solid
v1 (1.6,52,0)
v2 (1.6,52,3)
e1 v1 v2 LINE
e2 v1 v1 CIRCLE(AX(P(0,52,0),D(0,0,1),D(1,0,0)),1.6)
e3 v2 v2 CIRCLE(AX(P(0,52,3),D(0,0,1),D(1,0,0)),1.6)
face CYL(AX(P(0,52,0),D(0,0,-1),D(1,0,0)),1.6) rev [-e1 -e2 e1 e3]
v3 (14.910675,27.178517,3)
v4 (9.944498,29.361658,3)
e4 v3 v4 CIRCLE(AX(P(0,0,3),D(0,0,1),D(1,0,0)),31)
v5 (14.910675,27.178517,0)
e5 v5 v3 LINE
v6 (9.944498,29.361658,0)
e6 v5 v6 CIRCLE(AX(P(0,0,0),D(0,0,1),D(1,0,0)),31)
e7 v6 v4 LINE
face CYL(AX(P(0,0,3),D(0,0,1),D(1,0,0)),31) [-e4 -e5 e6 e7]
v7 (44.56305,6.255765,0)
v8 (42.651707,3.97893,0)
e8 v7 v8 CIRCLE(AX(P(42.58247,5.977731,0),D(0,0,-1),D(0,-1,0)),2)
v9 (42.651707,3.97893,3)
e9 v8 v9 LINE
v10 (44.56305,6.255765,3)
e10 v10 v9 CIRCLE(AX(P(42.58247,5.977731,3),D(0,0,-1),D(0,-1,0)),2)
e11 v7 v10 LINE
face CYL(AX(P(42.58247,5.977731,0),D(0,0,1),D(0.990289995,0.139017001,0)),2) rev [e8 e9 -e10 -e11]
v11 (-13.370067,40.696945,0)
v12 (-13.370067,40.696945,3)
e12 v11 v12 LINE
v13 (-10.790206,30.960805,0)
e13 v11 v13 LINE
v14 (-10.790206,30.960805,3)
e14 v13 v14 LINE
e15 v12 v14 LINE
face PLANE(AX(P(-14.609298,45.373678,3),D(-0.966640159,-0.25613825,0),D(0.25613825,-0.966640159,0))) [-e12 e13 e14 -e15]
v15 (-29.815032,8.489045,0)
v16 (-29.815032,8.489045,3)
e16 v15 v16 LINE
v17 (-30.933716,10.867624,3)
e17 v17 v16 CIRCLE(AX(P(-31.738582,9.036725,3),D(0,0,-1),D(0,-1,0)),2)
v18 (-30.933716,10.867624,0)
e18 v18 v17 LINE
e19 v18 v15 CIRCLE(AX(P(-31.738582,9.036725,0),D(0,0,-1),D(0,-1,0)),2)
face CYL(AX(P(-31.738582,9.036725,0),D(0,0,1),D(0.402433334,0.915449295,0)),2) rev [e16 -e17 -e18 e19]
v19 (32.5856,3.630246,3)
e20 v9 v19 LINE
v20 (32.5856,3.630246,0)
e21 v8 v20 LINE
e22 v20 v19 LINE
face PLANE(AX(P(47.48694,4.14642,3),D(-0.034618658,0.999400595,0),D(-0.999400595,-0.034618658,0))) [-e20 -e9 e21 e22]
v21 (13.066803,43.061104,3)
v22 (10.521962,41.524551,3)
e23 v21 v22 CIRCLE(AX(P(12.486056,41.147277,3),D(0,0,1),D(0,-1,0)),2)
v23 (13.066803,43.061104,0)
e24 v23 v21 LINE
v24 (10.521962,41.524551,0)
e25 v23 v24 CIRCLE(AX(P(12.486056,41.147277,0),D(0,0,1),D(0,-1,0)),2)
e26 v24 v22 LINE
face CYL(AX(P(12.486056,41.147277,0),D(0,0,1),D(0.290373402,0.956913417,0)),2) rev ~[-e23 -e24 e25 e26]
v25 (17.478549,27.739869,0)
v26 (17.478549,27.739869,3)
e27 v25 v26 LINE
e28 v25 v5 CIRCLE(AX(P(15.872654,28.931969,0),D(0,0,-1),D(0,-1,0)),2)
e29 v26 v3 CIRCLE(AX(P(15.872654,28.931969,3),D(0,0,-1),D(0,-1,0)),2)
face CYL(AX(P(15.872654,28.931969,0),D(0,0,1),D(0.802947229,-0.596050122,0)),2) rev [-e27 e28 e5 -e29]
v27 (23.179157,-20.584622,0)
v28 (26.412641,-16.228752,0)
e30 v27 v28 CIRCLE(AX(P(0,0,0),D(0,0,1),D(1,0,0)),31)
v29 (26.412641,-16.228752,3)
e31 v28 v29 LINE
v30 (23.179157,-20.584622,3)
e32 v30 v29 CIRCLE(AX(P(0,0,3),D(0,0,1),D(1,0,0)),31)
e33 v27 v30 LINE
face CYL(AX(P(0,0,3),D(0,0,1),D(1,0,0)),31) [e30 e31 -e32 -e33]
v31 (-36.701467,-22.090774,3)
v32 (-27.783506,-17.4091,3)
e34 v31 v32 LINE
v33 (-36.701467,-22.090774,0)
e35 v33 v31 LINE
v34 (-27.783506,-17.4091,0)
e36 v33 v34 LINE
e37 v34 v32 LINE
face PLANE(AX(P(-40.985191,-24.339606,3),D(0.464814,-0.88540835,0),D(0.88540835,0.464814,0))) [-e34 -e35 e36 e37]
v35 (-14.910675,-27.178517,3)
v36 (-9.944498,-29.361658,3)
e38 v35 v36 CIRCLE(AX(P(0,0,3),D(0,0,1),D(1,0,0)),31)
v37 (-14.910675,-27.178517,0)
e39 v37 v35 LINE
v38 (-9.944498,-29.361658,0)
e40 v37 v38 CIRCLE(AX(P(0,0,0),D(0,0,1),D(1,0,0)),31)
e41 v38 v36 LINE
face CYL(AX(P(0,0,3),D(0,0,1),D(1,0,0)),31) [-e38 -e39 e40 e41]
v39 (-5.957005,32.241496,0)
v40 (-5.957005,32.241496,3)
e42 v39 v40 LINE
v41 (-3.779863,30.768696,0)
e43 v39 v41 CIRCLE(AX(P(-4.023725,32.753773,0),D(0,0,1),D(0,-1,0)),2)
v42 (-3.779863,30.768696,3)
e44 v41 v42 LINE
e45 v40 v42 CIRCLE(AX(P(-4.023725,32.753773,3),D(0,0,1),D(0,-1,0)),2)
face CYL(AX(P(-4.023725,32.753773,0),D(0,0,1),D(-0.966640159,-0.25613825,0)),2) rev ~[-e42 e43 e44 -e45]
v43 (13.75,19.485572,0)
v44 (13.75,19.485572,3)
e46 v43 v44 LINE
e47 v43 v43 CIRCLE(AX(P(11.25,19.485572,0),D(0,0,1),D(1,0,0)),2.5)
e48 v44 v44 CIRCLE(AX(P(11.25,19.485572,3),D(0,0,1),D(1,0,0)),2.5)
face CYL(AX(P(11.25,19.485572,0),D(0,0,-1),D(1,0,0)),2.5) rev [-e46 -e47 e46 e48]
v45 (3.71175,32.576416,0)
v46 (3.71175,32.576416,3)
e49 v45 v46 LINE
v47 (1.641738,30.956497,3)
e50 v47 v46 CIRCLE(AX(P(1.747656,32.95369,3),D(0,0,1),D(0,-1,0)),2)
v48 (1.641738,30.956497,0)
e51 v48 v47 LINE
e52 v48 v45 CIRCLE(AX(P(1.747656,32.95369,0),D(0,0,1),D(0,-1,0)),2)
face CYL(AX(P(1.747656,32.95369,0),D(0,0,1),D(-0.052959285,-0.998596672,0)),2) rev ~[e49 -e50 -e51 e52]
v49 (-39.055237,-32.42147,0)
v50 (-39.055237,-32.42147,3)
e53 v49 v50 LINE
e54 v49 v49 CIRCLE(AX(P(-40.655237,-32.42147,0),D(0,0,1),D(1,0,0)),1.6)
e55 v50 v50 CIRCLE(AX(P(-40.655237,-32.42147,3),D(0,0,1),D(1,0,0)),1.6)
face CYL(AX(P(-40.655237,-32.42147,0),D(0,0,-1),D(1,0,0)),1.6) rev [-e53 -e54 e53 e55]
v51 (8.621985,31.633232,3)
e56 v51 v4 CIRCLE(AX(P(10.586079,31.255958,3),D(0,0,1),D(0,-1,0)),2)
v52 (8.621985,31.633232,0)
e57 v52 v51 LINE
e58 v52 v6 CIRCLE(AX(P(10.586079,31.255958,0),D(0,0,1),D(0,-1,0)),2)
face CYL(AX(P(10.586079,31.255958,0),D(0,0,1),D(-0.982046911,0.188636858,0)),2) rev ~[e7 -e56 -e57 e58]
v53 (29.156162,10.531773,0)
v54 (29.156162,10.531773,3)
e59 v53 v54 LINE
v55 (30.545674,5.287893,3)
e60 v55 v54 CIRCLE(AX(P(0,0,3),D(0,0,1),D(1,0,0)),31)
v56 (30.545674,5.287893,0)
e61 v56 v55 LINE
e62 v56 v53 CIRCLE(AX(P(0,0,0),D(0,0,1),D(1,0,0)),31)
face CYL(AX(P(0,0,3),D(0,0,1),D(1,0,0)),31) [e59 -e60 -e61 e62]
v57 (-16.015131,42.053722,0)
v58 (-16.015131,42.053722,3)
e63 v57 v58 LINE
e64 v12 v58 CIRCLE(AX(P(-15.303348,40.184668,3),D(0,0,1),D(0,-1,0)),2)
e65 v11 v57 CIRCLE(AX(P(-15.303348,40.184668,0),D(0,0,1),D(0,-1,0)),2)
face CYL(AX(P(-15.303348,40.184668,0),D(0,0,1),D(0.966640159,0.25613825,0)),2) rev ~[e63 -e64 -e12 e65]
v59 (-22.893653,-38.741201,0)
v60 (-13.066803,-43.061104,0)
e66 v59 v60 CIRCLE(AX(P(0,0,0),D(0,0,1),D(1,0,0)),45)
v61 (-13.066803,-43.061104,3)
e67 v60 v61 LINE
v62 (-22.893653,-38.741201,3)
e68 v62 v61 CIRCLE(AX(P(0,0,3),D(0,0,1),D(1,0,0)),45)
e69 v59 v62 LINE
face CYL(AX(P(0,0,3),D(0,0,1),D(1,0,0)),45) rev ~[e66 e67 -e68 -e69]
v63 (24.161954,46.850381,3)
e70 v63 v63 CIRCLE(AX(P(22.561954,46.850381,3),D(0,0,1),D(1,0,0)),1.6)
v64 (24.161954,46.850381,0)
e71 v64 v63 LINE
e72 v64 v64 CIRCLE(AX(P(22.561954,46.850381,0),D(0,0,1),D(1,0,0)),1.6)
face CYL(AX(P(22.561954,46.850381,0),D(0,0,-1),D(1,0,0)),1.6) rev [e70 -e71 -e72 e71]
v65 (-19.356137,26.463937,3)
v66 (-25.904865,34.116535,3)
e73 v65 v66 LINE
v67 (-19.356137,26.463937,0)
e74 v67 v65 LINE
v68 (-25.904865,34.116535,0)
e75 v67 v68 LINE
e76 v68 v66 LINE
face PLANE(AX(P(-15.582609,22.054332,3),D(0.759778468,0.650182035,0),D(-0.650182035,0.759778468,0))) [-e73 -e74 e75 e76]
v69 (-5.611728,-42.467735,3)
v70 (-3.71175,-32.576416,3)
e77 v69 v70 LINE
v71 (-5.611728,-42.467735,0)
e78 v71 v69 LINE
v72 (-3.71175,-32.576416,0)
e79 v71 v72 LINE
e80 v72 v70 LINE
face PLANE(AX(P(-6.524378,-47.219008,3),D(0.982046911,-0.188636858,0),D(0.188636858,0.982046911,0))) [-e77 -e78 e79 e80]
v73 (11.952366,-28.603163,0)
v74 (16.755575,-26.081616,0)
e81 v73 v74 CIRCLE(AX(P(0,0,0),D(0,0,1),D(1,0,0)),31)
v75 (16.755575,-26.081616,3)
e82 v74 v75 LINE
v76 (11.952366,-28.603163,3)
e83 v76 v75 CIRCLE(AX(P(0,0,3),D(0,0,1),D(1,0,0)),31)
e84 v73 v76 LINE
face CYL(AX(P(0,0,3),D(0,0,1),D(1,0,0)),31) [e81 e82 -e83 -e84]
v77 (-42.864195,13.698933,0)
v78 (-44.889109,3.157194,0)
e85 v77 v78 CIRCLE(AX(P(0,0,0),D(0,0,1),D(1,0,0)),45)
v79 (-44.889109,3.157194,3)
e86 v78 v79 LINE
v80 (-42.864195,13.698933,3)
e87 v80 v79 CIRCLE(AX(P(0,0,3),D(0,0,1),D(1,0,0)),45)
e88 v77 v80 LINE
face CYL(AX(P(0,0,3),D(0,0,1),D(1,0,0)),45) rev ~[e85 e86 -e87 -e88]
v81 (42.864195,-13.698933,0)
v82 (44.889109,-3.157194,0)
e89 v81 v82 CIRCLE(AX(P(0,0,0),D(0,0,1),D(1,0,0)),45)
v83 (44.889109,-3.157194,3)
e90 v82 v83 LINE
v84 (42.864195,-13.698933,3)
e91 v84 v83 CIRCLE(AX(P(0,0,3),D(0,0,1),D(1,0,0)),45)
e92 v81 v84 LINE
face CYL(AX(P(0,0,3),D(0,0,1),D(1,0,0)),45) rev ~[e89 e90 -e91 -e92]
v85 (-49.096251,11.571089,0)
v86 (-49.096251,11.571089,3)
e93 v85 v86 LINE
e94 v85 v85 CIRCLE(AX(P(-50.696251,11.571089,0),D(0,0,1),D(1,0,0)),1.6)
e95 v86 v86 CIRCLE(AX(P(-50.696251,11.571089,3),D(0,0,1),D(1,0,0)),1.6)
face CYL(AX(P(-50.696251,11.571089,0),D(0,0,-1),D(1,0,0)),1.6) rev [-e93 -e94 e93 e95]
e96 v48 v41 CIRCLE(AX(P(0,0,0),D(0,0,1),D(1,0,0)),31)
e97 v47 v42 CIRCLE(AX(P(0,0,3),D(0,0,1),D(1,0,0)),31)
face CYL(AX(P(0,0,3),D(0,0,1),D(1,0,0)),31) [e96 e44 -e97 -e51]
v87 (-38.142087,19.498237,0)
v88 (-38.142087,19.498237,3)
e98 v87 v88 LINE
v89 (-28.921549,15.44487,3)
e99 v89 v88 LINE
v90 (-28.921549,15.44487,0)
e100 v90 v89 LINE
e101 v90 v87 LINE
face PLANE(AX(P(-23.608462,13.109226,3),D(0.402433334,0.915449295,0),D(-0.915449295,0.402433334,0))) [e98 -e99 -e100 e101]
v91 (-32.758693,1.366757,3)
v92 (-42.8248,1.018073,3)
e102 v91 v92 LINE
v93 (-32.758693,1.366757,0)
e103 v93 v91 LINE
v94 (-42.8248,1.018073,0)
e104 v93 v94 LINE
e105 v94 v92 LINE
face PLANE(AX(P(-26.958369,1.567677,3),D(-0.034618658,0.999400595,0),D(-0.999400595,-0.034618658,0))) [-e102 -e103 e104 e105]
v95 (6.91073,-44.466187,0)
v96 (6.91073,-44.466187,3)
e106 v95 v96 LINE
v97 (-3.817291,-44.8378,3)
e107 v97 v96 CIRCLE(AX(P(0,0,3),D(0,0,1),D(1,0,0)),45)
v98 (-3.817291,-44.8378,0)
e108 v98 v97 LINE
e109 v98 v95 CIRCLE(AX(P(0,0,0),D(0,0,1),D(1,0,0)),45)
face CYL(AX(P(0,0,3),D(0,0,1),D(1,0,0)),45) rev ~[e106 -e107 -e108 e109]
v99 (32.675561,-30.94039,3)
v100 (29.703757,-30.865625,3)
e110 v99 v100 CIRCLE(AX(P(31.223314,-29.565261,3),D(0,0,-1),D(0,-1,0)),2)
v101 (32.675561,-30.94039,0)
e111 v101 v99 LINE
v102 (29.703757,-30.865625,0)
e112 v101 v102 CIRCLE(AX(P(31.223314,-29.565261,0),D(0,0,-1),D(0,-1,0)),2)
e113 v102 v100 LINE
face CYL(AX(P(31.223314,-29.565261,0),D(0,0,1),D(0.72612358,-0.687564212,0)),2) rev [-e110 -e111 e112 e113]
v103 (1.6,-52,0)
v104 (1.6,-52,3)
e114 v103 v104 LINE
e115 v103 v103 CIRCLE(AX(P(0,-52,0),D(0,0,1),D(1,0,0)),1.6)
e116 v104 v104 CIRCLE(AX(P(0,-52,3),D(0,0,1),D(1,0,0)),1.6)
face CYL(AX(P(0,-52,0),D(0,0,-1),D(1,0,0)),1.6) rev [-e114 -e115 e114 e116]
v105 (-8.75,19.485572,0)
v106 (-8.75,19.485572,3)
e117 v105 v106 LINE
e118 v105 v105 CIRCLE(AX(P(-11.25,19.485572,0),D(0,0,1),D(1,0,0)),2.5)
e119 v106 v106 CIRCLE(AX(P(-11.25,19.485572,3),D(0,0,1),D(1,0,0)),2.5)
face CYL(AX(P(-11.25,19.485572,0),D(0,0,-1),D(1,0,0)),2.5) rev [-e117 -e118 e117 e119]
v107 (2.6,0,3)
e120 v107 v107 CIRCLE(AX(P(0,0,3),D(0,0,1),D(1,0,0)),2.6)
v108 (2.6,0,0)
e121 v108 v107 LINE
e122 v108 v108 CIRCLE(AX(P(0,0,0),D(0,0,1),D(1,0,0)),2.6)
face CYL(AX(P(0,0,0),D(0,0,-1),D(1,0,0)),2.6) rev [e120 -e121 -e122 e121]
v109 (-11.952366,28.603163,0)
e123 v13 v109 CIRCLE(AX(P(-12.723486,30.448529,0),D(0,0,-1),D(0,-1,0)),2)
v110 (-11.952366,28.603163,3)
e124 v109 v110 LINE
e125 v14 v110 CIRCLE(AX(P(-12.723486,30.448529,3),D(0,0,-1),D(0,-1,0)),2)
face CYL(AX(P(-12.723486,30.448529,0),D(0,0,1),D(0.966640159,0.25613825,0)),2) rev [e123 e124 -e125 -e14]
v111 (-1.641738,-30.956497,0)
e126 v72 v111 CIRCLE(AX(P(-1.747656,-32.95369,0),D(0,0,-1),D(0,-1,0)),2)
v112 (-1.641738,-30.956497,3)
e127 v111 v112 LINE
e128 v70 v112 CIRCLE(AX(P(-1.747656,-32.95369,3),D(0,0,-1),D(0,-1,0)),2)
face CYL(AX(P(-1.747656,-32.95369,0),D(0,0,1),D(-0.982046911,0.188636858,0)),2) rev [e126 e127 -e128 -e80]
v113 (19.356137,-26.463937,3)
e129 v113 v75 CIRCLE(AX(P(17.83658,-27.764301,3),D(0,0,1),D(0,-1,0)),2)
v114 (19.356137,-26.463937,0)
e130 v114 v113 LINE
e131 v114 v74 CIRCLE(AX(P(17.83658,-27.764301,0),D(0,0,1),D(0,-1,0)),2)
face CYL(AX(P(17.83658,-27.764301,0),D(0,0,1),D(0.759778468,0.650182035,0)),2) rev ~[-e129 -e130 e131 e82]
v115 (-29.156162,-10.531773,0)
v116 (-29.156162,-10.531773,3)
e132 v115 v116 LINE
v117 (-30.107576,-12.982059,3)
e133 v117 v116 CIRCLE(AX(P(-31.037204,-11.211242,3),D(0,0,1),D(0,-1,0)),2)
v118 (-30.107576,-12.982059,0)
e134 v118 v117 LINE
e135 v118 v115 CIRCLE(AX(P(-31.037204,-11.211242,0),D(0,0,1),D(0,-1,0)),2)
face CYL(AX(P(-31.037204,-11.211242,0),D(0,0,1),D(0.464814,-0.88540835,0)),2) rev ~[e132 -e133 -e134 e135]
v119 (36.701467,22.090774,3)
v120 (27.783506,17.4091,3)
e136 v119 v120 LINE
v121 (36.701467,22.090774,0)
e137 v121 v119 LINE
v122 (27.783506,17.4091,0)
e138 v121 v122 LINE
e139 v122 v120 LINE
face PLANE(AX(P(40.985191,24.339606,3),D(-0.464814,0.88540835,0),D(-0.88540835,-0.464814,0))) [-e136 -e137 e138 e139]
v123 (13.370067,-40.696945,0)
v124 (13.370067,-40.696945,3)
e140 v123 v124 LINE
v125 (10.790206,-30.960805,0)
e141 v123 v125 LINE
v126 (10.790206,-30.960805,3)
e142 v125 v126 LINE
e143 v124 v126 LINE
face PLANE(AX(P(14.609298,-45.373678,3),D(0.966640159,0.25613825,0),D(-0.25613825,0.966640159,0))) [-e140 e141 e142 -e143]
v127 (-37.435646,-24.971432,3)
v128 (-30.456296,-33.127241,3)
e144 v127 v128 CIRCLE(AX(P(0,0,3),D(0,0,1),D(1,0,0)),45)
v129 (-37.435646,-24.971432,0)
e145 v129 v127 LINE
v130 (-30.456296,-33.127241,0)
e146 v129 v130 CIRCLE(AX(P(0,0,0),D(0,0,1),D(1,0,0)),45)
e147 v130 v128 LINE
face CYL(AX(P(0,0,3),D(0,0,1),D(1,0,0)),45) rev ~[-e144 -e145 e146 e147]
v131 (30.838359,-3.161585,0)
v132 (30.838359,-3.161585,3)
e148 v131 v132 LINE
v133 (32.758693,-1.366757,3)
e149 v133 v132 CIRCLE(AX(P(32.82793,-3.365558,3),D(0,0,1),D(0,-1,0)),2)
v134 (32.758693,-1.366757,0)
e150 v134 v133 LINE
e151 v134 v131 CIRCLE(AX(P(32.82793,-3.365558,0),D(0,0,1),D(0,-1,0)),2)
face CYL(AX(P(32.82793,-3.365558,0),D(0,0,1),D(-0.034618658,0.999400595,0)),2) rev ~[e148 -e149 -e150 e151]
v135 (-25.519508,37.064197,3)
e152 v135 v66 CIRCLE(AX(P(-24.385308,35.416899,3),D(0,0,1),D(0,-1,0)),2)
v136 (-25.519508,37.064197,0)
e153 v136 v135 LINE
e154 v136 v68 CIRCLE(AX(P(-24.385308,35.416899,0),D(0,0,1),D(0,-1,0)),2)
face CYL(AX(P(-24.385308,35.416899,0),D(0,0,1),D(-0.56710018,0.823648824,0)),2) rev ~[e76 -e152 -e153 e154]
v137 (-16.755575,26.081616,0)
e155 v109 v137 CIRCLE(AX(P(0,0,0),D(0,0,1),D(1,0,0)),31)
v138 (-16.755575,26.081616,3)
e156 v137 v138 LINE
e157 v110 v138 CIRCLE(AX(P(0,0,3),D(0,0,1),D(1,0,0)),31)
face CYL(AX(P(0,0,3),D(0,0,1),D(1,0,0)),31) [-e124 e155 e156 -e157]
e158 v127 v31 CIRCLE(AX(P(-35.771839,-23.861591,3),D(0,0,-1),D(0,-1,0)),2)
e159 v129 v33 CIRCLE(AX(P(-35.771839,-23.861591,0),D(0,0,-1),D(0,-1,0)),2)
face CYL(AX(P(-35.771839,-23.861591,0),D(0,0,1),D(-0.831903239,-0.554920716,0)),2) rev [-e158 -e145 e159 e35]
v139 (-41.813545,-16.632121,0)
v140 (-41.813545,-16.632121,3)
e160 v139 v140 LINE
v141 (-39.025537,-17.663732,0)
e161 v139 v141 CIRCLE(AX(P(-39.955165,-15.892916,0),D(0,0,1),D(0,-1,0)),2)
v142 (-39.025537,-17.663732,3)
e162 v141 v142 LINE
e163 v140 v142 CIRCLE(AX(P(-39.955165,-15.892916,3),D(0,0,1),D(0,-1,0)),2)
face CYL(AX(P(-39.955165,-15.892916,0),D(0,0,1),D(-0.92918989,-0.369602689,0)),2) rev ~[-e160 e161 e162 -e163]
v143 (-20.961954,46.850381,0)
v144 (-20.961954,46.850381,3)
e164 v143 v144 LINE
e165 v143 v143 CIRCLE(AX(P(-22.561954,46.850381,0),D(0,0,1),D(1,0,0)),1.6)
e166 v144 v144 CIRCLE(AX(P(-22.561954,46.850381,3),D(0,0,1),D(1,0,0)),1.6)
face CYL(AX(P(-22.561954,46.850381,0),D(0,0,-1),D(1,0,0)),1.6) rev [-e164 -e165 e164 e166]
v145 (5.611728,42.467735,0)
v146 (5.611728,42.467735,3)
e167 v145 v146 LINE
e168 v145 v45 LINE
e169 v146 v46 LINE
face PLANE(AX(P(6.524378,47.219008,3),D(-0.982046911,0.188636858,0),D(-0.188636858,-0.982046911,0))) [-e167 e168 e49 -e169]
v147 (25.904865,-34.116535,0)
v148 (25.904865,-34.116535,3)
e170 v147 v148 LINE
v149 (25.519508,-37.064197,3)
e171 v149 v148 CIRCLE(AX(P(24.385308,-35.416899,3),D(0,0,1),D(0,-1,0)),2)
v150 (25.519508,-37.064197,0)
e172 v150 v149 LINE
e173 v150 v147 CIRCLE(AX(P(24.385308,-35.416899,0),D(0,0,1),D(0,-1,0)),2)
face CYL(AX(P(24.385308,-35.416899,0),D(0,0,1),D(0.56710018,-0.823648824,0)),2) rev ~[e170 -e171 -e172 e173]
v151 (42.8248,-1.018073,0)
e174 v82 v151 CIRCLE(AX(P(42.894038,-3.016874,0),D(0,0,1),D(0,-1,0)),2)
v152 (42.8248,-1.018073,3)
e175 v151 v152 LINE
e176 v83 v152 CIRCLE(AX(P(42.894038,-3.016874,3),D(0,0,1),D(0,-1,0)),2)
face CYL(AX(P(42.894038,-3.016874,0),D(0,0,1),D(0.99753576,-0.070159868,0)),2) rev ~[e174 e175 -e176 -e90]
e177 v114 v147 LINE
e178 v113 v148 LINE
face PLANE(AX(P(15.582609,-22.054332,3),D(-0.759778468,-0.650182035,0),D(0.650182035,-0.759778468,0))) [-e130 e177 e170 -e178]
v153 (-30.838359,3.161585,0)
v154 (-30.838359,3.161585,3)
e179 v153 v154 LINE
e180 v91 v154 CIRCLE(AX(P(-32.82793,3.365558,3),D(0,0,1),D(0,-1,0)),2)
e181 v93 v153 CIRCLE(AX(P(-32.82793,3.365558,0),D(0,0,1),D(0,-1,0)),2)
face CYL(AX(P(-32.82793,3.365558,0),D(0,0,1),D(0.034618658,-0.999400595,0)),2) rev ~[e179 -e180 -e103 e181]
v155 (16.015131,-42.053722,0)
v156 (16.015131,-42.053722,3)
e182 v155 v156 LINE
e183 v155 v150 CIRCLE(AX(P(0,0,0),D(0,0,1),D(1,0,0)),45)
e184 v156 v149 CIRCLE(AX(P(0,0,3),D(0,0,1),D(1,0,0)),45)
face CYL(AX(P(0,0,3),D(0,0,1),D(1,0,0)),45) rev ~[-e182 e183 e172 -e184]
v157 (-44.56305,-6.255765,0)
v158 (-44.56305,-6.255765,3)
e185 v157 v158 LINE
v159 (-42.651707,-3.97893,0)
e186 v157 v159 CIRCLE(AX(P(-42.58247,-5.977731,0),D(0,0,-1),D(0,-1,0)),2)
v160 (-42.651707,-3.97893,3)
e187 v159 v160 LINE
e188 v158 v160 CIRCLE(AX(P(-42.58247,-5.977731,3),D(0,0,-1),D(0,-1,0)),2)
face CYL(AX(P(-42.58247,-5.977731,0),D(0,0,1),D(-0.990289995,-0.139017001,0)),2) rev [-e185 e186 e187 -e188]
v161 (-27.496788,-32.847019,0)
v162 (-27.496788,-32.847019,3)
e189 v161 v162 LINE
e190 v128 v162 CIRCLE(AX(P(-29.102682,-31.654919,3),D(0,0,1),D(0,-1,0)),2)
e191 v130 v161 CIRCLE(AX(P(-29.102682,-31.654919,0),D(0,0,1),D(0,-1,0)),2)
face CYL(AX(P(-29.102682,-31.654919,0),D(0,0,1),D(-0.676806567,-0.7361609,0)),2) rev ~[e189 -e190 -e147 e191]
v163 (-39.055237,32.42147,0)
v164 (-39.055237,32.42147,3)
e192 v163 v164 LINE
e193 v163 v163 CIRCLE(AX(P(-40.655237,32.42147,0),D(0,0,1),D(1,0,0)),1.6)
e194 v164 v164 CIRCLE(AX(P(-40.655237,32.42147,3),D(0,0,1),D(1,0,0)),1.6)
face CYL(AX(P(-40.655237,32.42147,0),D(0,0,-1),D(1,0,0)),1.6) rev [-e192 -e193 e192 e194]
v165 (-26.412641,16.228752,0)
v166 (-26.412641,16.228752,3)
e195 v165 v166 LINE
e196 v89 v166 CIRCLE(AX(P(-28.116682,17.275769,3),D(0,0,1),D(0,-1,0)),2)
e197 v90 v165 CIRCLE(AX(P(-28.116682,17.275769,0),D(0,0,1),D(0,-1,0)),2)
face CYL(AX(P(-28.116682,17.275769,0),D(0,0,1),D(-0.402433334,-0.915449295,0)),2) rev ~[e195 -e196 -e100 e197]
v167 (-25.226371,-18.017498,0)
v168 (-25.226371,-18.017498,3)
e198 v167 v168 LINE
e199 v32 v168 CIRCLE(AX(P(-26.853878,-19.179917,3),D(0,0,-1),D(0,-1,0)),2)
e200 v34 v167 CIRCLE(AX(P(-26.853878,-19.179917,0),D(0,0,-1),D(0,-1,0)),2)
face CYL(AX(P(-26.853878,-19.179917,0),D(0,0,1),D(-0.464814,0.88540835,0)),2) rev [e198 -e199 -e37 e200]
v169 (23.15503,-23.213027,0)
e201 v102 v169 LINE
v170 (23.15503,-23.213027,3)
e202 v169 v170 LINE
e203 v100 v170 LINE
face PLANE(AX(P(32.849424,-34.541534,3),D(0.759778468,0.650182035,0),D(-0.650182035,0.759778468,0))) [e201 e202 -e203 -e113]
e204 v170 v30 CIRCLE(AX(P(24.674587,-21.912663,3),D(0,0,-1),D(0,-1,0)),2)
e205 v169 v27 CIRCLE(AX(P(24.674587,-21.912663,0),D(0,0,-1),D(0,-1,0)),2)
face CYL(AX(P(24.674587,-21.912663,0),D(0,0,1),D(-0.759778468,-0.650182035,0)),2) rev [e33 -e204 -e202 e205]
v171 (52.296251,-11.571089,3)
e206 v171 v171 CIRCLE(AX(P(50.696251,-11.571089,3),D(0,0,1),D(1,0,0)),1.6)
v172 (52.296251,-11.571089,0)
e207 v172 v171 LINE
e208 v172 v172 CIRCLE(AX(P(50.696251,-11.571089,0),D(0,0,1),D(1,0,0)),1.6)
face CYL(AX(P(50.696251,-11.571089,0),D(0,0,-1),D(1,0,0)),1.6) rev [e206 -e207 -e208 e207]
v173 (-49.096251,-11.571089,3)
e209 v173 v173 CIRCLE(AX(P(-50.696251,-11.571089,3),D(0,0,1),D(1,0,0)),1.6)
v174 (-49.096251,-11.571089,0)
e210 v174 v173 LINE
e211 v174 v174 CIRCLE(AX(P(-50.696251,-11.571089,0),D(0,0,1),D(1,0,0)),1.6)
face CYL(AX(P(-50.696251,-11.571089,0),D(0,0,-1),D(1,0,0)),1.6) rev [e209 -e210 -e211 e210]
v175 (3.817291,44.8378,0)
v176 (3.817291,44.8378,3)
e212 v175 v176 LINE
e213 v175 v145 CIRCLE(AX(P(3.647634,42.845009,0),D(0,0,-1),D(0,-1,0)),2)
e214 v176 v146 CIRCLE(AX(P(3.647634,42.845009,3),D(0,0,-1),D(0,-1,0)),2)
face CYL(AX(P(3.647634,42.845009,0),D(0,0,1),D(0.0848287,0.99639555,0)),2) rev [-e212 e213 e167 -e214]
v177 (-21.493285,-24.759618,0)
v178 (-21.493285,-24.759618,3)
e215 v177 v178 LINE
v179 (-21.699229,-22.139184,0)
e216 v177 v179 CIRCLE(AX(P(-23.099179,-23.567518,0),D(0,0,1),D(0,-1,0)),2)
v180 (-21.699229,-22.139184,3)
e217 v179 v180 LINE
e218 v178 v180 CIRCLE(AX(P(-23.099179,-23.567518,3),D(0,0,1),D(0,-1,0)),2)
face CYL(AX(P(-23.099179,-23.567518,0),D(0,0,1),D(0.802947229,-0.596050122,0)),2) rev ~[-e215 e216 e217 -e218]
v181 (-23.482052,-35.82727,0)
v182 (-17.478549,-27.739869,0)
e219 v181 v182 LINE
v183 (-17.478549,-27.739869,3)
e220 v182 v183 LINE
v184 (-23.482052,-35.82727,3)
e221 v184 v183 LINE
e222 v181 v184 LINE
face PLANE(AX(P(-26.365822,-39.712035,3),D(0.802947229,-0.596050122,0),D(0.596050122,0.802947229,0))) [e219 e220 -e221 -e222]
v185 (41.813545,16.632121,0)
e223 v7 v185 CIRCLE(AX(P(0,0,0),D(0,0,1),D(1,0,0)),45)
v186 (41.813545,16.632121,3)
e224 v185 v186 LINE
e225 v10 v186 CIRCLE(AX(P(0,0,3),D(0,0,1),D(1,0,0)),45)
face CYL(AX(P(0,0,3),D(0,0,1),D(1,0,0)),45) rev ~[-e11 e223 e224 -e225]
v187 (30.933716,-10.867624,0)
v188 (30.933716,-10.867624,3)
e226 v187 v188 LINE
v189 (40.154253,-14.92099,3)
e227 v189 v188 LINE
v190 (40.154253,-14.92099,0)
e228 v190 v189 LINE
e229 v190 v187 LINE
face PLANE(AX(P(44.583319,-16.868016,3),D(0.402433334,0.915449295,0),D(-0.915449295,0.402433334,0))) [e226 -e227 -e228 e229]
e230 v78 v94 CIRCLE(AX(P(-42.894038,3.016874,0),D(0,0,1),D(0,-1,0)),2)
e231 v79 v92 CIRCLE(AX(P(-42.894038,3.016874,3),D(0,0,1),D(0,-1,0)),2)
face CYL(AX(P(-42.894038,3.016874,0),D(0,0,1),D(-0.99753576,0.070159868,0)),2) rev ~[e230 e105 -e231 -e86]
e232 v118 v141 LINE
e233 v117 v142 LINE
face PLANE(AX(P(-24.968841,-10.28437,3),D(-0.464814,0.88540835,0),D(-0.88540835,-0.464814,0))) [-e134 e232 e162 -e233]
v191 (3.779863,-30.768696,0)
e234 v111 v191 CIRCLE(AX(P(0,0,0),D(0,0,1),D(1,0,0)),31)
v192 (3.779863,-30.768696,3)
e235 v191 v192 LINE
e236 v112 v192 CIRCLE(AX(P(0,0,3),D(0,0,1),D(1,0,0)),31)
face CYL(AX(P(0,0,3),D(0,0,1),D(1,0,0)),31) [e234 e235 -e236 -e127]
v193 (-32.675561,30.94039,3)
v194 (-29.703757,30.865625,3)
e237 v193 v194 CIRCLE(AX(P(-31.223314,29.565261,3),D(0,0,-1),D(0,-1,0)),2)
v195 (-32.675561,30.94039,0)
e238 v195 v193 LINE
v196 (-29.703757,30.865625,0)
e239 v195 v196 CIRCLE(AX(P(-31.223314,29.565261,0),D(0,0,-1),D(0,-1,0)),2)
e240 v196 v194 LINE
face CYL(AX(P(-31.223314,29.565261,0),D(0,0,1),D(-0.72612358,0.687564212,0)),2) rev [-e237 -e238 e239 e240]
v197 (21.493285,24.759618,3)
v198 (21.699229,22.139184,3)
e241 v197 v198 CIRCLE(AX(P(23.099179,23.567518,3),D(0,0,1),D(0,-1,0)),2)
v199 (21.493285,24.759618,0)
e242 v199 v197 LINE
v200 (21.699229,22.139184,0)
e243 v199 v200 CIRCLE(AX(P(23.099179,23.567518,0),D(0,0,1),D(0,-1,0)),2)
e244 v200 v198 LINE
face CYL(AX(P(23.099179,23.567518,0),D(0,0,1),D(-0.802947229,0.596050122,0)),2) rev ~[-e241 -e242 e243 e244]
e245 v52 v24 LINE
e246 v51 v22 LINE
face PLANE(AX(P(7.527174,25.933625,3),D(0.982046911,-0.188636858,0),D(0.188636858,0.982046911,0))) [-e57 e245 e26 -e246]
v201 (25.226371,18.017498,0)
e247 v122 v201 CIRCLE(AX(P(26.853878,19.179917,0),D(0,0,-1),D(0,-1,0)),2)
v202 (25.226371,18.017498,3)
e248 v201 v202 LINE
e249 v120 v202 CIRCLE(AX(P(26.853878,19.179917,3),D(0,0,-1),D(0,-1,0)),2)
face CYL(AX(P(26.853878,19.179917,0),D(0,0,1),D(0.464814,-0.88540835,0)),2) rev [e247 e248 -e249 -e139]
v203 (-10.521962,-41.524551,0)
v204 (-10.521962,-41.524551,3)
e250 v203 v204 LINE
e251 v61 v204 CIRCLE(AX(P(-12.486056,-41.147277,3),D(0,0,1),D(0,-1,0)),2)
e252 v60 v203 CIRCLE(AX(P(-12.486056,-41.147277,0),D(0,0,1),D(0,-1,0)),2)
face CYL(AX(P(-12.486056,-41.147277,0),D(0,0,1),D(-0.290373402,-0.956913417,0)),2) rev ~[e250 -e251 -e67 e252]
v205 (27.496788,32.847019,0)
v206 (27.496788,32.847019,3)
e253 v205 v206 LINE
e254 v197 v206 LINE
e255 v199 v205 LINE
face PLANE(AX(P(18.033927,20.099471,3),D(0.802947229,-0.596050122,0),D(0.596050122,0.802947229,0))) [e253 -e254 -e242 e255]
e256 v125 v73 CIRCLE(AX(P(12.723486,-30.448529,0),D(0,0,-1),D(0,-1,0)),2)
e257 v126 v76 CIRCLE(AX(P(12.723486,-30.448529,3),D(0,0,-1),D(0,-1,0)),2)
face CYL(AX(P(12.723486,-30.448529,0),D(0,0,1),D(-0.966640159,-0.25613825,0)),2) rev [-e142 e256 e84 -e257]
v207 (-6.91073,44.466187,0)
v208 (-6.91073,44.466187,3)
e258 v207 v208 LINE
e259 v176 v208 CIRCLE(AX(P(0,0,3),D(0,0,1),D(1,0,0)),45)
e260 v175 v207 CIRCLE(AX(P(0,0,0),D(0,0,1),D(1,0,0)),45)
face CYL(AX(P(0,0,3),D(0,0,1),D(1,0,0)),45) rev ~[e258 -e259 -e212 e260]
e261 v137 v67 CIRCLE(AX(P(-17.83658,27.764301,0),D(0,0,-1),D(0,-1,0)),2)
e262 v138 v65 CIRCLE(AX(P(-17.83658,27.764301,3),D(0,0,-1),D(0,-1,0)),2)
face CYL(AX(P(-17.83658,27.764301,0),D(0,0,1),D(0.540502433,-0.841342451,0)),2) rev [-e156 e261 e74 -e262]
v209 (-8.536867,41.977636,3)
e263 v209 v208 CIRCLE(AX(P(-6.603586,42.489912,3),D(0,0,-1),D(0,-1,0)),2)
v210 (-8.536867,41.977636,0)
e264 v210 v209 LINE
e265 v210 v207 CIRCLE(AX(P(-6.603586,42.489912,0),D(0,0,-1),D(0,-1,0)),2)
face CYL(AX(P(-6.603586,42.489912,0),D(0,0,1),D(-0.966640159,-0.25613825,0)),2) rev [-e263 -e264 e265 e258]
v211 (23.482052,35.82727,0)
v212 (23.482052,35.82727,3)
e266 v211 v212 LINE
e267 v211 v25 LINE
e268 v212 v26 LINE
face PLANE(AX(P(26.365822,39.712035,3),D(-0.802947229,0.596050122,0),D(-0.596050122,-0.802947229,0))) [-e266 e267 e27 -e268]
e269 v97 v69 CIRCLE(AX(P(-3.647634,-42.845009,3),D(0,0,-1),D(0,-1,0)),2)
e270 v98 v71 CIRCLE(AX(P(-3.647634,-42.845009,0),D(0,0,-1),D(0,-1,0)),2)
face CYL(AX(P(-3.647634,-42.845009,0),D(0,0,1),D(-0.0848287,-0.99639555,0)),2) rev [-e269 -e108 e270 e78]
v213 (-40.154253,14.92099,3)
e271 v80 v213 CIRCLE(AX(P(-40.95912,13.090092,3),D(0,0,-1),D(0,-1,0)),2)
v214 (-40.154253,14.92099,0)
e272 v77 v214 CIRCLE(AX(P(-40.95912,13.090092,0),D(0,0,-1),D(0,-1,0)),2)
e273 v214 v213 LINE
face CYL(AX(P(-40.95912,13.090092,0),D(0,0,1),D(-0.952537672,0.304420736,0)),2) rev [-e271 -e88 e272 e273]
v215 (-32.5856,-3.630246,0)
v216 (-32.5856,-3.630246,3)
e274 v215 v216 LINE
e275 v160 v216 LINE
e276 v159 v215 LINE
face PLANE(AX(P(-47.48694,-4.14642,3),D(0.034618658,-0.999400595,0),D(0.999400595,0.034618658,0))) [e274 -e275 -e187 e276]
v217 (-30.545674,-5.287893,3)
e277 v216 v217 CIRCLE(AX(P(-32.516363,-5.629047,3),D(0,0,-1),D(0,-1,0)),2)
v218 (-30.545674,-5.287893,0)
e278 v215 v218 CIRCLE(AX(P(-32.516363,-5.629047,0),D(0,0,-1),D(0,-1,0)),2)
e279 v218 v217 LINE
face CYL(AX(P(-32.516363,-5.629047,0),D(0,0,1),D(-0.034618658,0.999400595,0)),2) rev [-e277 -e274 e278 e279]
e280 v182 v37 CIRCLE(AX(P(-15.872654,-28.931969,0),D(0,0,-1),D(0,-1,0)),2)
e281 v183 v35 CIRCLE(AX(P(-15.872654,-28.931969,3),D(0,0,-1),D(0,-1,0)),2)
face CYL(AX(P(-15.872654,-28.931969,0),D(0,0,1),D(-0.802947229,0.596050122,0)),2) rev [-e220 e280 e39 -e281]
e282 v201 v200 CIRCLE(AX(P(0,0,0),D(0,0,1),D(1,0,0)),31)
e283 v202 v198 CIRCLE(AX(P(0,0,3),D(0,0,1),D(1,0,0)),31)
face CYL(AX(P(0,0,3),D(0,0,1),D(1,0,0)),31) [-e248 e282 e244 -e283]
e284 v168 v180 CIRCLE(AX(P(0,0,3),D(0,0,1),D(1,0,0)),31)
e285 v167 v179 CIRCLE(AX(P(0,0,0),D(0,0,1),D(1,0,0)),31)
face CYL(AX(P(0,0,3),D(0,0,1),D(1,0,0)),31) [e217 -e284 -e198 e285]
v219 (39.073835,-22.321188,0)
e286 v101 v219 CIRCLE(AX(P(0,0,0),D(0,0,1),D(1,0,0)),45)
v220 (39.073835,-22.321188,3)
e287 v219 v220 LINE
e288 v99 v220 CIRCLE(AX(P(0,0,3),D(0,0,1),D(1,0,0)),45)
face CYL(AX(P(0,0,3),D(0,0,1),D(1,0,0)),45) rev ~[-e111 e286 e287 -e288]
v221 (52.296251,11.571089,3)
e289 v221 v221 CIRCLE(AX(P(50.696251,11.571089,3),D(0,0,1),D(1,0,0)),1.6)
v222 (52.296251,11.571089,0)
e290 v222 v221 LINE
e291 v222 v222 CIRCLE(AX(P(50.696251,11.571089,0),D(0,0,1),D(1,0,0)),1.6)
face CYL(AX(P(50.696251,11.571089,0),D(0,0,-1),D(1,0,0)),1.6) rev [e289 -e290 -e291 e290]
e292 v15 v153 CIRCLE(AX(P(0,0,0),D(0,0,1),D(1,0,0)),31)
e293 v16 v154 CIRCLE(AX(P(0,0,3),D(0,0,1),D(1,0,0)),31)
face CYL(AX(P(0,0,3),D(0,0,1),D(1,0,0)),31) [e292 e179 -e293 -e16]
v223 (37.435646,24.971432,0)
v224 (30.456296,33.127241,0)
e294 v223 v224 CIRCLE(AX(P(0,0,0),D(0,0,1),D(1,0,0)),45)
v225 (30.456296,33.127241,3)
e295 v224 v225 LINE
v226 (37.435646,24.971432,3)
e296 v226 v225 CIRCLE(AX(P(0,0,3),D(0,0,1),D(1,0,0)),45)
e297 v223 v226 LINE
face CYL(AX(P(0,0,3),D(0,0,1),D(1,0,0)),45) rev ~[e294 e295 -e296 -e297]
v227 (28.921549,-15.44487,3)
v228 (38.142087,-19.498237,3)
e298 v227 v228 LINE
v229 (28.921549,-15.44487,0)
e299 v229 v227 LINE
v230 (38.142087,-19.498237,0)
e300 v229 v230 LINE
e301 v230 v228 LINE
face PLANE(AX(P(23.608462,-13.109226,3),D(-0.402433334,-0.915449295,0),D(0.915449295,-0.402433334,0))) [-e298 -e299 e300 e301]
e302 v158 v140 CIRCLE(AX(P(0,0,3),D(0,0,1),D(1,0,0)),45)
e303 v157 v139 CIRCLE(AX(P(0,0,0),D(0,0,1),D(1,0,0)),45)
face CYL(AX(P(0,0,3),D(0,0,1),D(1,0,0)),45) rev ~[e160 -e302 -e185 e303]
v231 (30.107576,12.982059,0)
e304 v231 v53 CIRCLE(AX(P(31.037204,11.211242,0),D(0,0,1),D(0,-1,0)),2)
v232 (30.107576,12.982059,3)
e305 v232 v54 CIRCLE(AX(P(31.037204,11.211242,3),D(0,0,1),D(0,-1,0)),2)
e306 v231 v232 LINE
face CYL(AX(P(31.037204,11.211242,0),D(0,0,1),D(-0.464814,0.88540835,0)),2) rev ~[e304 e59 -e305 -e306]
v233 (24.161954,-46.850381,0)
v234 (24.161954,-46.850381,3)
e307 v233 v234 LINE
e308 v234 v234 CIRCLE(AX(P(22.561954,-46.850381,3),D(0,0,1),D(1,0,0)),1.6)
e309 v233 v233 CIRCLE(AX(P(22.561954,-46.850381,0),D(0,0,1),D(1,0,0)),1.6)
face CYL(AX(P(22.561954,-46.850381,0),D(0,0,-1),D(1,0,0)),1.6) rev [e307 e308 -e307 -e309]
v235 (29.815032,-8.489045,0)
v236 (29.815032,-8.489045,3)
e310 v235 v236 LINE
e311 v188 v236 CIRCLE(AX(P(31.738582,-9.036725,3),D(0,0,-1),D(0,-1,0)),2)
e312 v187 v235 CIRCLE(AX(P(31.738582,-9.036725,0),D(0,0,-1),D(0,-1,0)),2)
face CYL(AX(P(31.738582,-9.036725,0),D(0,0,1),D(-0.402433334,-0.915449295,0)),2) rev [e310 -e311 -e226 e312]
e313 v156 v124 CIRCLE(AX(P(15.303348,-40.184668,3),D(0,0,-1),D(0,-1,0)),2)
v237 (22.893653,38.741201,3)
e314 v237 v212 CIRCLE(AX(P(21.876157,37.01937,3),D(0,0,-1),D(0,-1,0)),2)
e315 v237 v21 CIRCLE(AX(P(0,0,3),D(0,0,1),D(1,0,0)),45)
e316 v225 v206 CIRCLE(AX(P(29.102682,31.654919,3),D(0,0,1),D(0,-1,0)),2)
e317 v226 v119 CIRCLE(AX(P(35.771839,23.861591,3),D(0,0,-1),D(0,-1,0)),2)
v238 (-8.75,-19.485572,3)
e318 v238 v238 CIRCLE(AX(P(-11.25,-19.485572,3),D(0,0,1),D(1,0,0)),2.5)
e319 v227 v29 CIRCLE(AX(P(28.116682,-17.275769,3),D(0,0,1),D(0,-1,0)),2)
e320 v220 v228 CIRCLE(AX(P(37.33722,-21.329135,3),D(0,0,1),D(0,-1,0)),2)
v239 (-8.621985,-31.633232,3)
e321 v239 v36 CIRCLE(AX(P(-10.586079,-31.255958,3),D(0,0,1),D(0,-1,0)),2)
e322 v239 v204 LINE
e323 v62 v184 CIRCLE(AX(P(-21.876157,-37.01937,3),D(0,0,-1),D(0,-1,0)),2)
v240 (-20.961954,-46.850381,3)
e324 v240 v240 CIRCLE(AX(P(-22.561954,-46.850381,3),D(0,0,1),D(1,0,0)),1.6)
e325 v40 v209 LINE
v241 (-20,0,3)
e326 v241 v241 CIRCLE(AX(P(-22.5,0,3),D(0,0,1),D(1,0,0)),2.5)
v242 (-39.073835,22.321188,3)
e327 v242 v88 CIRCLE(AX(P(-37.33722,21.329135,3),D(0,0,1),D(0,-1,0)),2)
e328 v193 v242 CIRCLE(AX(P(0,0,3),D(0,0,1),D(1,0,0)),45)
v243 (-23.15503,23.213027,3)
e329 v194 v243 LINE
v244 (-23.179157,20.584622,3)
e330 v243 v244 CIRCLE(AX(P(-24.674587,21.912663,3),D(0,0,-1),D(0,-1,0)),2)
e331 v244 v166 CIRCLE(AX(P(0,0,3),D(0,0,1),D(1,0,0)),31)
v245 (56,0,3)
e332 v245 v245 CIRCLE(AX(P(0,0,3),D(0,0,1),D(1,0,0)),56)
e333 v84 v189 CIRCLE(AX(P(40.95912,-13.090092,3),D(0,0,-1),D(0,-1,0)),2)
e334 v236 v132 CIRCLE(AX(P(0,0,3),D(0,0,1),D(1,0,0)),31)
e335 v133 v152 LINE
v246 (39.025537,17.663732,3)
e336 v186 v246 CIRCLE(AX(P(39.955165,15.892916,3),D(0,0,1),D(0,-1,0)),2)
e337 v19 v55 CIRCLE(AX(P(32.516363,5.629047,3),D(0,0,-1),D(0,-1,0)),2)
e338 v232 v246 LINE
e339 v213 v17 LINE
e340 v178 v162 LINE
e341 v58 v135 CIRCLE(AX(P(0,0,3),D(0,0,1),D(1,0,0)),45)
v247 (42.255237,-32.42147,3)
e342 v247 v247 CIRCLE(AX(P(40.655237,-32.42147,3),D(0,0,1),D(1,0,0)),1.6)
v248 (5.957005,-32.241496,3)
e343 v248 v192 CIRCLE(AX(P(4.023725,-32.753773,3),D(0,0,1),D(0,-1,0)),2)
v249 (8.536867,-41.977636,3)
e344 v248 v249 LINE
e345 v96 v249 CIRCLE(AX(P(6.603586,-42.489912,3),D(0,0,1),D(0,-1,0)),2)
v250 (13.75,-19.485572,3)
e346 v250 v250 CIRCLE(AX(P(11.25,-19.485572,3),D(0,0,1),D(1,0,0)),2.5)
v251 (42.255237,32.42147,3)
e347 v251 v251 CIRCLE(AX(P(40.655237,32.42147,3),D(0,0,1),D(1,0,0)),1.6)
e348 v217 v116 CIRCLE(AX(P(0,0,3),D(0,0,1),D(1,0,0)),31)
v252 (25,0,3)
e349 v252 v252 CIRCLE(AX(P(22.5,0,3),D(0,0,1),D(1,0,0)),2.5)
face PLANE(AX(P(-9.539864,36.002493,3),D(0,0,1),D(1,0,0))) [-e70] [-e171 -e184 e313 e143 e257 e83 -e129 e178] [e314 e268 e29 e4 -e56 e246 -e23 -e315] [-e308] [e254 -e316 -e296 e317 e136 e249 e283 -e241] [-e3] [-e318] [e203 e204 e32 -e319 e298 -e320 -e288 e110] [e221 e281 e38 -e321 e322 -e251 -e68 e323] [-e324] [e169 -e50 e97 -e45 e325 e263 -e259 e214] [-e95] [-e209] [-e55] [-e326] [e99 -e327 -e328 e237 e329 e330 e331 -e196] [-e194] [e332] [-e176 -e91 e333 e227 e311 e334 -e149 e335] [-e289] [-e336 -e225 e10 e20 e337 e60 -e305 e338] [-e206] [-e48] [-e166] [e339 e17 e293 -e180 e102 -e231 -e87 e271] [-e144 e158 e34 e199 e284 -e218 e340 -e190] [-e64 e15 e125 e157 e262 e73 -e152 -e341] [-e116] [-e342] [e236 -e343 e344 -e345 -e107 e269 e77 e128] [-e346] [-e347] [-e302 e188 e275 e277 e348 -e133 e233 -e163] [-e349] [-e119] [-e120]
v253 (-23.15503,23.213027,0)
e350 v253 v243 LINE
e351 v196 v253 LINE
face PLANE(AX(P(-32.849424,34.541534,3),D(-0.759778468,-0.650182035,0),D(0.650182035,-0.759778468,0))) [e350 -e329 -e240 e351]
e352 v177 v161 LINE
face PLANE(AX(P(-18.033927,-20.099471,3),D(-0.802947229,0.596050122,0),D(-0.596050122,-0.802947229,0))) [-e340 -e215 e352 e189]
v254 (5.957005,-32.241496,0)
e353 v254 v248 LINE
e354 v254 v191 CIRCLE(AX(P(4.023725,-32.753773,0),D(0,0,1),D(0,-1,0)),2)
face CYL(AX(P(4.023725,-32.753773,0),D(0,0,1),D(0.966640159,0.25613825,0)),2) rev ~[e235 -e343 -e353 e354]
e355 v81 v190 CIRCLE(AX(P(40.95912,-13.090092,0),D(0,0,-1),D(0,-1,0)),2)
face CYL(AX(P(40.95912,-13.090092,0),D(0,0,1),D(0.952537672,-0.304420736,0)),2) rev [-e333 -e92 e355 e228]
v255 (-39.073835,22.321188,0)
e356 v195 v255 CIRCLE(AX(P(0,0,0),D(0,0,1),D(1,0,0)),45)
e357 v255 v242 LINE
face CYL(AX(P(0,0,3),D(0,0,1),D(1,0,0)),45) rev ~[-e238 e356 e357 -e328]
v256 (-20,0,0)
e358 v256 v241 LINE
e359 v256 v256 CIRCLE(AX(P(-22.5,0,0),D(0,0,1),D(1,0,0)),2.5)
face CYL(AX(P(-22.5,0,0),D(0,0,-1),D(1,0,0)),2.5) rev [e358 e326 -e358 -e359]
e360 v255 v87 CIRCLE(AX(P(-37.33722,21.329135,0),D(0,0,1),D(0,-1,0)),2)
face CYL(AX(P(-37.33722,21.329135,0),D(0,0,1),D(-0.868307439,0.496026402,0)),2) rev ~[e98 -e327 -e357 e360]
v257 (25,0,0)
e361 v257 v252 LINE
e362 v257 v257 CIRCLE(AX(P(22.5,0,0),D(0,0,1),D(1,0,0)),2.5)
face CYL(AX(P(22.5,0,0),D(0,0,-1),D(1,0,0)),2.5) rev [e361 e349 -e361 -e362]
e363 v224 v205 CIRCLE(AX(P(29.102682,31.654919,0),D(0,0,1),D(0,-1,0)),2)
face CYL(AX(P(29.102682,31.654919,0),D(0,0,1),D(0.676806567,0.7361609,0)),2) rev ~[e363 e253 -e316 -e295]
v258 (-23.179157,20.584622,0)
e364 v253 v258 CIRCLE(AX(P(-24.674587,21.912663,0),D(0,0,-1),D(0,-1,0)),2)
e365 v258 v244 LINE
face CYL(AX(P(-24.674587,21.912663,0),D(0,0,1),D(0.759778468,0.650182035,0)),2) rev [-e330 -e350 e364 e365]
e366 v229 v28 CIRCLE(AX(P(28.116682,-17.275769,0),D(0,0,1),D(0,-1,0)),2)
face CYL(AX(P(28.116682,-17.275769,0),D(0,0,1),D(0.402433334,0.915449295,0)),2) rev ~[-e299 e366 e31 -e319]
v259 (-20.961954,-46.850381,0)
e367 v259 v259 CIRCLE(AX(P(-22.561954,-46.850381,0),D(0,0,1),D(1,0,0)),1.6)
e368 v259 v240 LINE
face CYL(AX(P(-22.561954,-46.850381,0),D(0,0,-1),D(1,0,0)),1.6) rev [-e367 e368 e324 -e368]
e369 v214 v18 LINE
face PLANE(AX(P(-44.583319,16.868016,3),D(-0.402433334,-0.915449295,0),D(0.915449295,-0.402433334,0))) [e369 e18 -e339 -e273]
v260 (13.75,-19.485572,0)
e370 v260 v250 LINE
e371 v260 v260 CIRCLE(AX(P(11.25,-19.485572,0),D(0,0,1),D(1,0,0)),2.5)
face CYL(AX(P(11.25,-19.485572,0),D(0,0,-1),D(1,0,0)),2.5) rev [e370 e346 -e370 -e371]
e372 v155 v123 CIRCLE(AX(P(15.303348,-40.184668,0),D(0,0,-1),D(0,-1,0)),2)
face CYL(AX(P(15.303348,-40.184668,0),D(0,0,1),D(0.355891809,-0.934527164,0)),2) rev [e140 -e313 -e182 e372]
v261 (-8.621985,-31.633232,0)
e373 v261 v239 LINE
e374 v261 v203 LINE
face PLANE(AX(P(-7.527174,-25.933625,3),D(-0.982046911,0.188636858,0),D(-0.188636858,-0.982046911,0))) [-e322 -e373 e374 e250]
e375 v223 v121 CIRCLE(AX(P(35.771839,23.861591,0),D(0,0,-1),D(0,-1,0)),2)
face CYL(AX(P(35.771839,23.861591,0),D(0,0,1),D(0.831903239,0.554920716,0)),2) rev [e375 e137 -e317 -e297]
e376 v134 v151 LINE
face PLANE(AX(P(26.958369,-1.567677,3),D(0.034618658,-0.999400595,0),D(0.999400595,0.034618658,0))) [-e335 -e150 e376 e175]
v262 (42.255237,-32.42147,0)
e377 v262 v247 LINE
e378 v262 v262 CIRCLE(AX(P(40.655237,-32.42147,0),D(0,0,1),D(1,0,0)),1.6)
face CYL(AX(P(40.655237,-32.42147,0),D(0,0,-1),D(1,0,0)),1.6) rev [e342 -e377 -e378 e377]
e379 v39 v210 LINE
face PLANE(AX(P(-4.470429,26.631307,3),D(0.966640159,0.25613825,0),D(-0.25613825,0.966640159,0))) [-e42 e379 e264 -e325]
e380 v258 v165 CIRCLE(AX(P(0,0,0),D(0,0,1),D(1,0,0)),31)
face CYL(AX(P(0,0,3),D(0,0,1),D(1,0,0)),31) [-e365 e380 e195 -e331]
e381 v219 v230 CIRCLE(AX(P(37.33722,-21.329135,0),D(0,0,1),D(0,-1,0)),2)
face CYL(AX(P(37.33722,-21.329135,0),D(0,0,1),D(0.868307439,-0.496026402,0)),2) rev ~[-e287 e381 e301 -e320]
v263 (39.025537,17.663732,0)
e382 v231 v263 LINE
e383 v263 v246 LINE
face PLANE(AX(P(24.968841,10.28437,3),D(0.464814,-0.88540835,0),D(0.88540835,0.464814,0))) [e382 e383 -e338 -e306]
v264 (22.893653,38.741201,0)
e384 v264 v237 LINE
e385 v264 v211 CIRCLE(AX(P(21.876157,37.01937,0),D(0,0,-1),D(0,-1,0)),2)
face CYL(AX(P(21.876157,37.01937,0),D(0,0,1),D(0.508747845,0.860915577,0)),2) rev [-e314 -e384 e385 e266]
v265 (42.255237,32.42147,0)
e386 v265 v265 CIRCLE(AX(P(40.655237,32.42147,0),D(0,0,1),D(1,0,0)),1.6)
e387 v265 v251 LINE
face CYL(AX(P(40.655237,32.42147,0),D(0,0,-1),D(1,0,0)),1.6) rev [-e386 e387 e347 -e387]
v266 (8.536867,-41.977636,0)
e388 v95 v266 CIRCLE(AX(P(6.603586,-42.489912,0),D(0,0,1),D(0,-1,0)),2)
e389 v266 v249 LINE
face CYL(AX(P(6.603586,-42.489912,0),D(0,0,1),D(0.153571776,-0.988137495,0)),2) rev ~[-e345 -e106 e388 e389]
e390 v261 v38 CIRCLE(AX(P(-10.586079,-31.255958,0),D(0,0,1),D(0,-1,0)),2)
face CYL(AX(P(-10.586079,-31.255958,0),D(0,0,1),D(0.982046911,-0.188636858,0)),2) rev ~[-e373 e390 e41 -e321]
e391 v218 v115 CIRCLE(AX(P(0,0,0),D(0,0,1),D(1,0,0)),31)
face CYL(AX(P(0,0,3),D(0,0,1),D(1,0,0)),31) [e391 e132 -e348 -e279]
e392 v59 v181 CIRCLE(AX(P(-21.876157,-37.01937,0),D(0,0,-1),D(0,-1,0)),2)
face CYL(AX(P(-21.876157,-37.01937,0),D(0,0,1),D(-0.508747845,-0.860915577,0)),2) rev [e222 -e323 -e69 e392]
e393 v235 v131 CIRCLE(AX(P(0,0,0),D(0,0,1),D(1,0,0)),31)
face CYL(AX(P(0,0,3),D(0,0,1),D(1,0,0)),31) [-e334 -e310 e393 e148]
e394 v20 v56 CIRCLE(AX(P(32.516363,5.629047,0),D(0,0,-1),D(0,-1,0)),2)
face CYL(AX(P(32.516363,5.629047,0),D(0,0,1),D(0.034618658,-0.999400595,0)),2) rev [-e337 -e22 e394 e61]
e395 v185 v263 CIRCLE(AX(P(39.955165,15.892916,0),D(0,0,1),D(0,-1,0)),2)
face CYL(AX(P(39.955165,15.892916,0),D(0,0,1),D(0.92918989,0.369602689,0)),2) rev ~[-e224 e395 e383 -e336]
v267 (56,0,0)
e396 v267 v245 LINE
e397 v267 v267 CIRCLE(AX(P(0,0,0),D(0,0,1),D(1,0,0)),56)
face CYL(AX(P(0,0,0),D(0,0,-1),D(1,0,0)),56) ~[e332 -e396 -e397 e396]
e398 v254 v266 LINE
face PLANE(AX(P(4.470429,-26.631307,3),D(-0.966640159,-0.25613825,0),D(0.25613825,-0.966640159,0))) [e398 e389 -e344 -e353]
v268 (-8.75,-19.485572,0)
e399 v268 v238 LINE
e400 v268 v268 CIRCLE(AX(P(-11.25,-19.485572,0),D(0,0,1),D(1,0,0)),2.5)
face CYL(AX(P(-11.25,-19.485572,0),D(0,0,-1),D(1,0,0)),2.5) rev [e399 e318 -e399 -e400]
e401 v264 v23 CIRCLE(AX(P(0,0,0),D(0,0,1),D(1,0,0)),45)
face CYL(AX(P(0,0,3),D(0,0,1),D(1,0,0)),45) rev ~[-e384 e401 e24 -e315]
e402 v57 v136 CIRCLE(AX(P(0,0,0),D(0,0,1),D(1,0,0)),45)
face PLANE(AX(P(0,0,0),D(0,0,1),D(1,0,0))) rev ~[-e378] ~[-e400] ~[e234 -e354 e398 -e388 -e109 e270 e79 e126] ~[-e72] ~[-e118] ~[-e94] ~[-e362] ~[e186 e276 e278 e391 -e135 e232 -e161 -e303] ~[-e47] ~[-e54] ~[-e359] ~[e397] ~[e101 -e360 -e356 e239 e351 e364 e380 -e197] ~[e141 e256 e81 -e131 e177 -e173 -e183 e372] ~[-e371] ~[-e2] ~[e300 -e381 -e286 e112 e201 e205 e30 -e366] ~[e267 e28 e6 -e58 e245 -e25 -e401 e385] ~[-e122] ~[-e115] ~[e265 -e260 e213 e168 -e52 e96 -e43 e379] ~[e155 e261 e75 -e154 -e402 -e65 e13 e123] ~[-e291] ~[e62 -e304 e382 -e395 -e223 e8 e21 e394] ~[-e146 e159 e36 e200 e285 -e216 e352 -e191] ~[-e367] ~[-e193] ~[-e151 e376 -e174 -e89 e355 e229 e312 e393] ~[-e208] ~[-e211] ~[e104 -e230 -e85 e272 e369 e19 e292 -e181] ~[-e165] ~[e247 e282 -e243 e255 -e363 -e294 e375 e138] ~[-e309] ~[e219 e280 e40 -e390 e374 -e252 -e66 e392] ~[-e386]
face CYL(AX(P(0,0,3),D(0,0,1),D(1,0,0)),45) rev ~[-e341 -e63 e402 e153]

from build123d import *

# Parameters (mm, degrees)
SKETCH_1_R          = 56
SKETCH_1_R_2        = 1.6
SKETCH_1_R_3        = 2.6
SKETCH_1_R_4        = 2.5
EXTRUDE_1_DEPTH     = 3
SKETCH_2_R          = 45
SKETCH_2_R_2        = 31
CUT_EXTRUDE_1_DEPTH = 10
EXTRUDE_1_2_DEPTH   = 3
FILLET_2_R          = 2


with BuildPart() as part:
    # 草图1 → Extrude 1 (new body)
    with BuildSketch(Plane.XY):
        Circle(SKETCH_1_R)
        with Locations((0, 52)):
            Circle(SKETCH_1_R_2, mode=Mode.SUBTRACT)
        with Locations((22.561954434, 46.850381131)):
            Circle(SKETCH_1_R_2, mode=Mode.SUBTRACT)
        with Locations((40.655237088, 32.421469697)):
            Circle(SKETCH_1_R_2, mode=Mode.SUBTRACT)
        with Locations((50.696251433, 11.571088566)):
            Circle(SKETCH_1_R_2, mode=Mode.SUBTRACT)
        with Locations((50.696251433, -11.571088566)):
            Circle(SKETCH_1_R_2, mode=Mode.SUBTRACT)
        with Locations((40.655237088, -32.421469697)):
            Circle(SKETCH_1_R_2, mode=Mode.SUBTRACT)
        with Locations((22.561954434, -46.850381131)):
            Circle(SKETCH_1_R_2, mode=Mode.SUBTRACT)
        with Locations((0, -52)):
            Circle(SKETCH_1_R_2, mode=Mode.SUBTRACT)
        with Locations((-22.561954434, -46.850381131)):
            Circle(SKETCH_1_R_2, mode=Mode.SUBTRACT)
        with Locations((-40.655237088, -32.421469697)):
            Circle(SKETCH_1_R_2, mode=Mode.SUBTRACT)
        with Locations((-50.696251433, -11.571088566)):
            Circle(SKETCH_1_R_2, mode=Mode.SUBTRACT)
        with Locations((-50.696251433, 11.571088566)):
            Circle(SKETCH_1_R_2, mode=Mode.SUBTRACT)
        with Locations((-40.655237088, 32.421469697)):
            Circle(SKETCH_1_R_2, mode=Mode.SUBTRACT)
        with Locations((-22.561954434, 46.850381131)):
            Circle(SKETCH_1_R_2, mode=Mode.SUBTRACT)
        Circle(SKETCH_1_R_3, mode=Mode.SUBTRACT)
        with Locations((11.25, 19.485571585)):
            Circle(SKETCH_1_R_4, mode=Mode.SUBTRACT)
        with Locations((-11.25, 19.485571585)):
            Circle(SKETCH_1_R_4, mode=Mode.SUBTRACT)
        with Locations((-22.5, 0)):
            Circle(SKETCH_1_R_4, mode=Mode.SUBTRACT)
        with Locations((-11.25, -19.485571585)):
            Circle(SKETCH_1_R_4, mode=Mode.SUBTRACT)
        with Locations((11.25, -19.485571585)):
            Circle(SKETCH_1_R_4, mode=Mode.SUBTRACT)
        with Locations((22.5, 0)):
            Circle(SKETCH_1_R_4, mode=Mode.SUBTRACT)
    extrude(amount=EXTRUDE_1_DEPTH)

    # 草图2 → 切除-拉伸1 (cut)
    with BuildSketch(Plane.XY.offset(3)):
        Circle(SKETCH_2_R)
        Circle(SKETCH_2_R_2, mode=Mode.SUBTRACT)
    extrude(amount=-CUT_EXTRUDE_1_DEPTH, mode=Mode.SUBTRACT)


with BuildPart() as cut_extrude_1_piece_1:
    # of the separate pieces the step leaves, piece 1, a body of its own (cut_extrude_1_pieces)
    add(part.part.solids().sort_by_distance((56, 0, 0))[0])



with BuildPart() as cut_extrude_1_piece_2:
    # of the separate pieces the step leaves, piece 2, a body of its own (cut_extrude_1_pieces)
    add(part.part.solids().sort_by_distance((31, 0, 0))[0])


with BuildPart() as cut_extrude_1_piece_1_1:
    add(cut_extrude_1_piece_1.part)

    add(cut_extrude_1_piece_2.part)  # Extrude 1 2 merges 切除-拉伸1 piece 2
    # 草图3 → Extrude 1 2 (add)
    with BuildSketch(Plane.XY.offset(3)):
        Polygon((-14.609298387, 45.373678206), (-9.303630073, 25.350616171), (-4.470429278, 26.631307419), (-9.776097591, 46.654369454), align=None)
        Polygon((6.524378129, 47.219008495), (2.616939079, 26.876809755), (7.527173635, 25.933625467), (11.434612685, 46.275824207), align=None)
        Polygon((26.36582154, 39.71203505), (14.019191351, 23.079721546), (18.033927495, 20.099470936), (30.380557684, 36.731784439), align=None)
        Polygon((40.98519064, 24.339606026), (22.644770843, 14.71141143), (24.968840842, 10.284369682), (43.309260639, 19.912564278), align=None)
        Polygon((47.486940083, 4.146419523), (26.785275749, 3.429325856), (26.958369039, -1.567677117), (47.660033372, -0.85058345), align=None)
        Polygon((44.583318653, -16.868016219), (25.620628293, -8.531979761), (23.608461624, -13.109226236), (42.571151984, -21.445262694), align=None)
        Polygon((32.849424186, -34.541534476), (19.381501187, -18.803422148), (15.582608846, -22.054332325), (29.050531844, -37.792444653), align=None)
        Polygon((14.609298387, -45.373678206), (9.303630073, -25.350616171), (4.470429278, -26.631307419), (9.776097591, -46.654369454), align=None)
        Polygon((-6.524378129, -47.219008495), (-2.616939079, -26.876809755), (-7.527173635, -25.933625467), (-11.434612685, -46.275824207), align=None)
        Polygon((-26.36582154, -39.71203505), (-14.019191351, -23.079721546), (-18.033927495, -20.099470936), (-30.380557684, -36.731784439), align=None)
        Polygon((-40.98519064, -24.339606026), (-22.644770843, -14.71141143), (-24.968840842, -10.284369682), (-43.309260639, -19.912564278), align=None)
        Polygon((-47.486940083, -4.146419523), (-26.785275749, -3.429325856), (-26.958369039, 1.567677117), (-47.660033372, 0.85058345), align=None)
        Polygon((-44.583318653, 16.868016219), (-25.620628293, 8.531979761), (-23.608461624, 13.109226236), (-42.571151984, 21.445262694), align=None)
        Polygon((-32.849424186, 34.541534476), (-19.381501187, 18.803422148), (-15.582608846, 22.054332325), (-29.050531844, 37.792444653), align=None)
    extrude(amount=-EXTRUDE_1_2_DEPTH)

    # 圆角2
    fillet_2_edges = [cut_extrude_1_piece_1_1.edges().sort_by_distance(p)[0] for p in [
        (16.410002001, 26.300415098, 1.5),
        (20.424738144, 23.320164488, 1.5),
        (28.788199205, 34.586696669, 1.5),
        (24.773463062, 37.56694728, 1.5),
        (40.943876522, 18.670805429, 1.5),
        (28.520293368, 12.148780442, 1.5),
        (26.196223368, 16.57582219, 1.5),
        (38.619806522, 23.097847177, 1.5),
        (44.990116949, -0.943067809, 1.5),
        (30.967054712, -1.428818566, 1.5),
        (30.793961422, 3.568184407, 1.5),
        (44.817023659, 4.053935164, 1.5),
        (40.125512947, -20.370154902, 1.5),
        (27.280411084, -14.723422534, 1.5),
        (29.292577753, -10.146176058, 1.5),
        (42.137679616, -15.792908426, 1.5),
        (6.020431416, 44.595452745, 1.5),
        (10.930665972, 43.652268457, 1.5),
        (27.313558999, -35.762682992, 1.5),
        (18.190547469, -25.101872097, 1.5),
        (21.98943981, -21.85096192, 1.5),
        (31.11245134, -32.511772815, 1.5),
        (9.091819712, -44.071973116, 1.5),
        (5.497822835, -30.508588038, 1.5),
        (10.33102363, -29.22789679, 1.5),
        (13.925020507, -42.791281868, 1.5),
        (-10.930665972, -43.652268457, 1.5),
        (-8.283813038, -29.872703955, 1.5),
        (-3.373578481, -30.815888243, 1.5),
        (-6.020431416, -44.595452745, 1.5),
        (-28.788199205, -34.586696669, 1.5),
        (-20.424738144, -23.320164488, 1.5),
        (-16.410002001, -26.300415098, 1.5),
        (-24.773463062, -37.56694728, 1.5),
        (-40.943876522, -18.670805429, 1.5),
        (-28.520293368, -12.148780442, 1.5),
        (-26.196223368, -16.57582219, 1.5),
        (-38.619806522, -23.097847177, 1.5),
        (-44.990116949, 0.943067809, 1.5),
        (-30.967054712, 1.428818566, 1.5),
        (-30.793961422, -3.568184407, 1.5),
        (-44.817023659, -4.053935164, 1.5),
        (3.373578481, 30.815888243, 1.5),
        (-40.125512947, 20.370154902, 1.5),
        (-27.280411084, 14.723422534, 1.5),
        (-29.292577753, 10.146176058, 1.5),
        (-42.137679616, 15.792908426, 1.5),
        (-27.313558999, 35.762682992, 1.5),
        (-18.190547469, 25.101872097, 1.5),
        (-21.98943981, 21.85096192, 1.5),
        (-31.11245134, 32.511772815, 1.5),
        (8.283813038, 29.872703955, 1.5),
        (-10.33102363, 29.22789679, 1.5),
        (-5.497822835, 30.508588038, 1.5),
        (-9.091819712, 44.071973116, 1.5),
        (-13.925020507, 42.791281868, 1.5),
    ]]
    fillet(fillet_2_edges, radius=FILLET_2_R)


solid = cut_extrude_1_piece_1_1.part
